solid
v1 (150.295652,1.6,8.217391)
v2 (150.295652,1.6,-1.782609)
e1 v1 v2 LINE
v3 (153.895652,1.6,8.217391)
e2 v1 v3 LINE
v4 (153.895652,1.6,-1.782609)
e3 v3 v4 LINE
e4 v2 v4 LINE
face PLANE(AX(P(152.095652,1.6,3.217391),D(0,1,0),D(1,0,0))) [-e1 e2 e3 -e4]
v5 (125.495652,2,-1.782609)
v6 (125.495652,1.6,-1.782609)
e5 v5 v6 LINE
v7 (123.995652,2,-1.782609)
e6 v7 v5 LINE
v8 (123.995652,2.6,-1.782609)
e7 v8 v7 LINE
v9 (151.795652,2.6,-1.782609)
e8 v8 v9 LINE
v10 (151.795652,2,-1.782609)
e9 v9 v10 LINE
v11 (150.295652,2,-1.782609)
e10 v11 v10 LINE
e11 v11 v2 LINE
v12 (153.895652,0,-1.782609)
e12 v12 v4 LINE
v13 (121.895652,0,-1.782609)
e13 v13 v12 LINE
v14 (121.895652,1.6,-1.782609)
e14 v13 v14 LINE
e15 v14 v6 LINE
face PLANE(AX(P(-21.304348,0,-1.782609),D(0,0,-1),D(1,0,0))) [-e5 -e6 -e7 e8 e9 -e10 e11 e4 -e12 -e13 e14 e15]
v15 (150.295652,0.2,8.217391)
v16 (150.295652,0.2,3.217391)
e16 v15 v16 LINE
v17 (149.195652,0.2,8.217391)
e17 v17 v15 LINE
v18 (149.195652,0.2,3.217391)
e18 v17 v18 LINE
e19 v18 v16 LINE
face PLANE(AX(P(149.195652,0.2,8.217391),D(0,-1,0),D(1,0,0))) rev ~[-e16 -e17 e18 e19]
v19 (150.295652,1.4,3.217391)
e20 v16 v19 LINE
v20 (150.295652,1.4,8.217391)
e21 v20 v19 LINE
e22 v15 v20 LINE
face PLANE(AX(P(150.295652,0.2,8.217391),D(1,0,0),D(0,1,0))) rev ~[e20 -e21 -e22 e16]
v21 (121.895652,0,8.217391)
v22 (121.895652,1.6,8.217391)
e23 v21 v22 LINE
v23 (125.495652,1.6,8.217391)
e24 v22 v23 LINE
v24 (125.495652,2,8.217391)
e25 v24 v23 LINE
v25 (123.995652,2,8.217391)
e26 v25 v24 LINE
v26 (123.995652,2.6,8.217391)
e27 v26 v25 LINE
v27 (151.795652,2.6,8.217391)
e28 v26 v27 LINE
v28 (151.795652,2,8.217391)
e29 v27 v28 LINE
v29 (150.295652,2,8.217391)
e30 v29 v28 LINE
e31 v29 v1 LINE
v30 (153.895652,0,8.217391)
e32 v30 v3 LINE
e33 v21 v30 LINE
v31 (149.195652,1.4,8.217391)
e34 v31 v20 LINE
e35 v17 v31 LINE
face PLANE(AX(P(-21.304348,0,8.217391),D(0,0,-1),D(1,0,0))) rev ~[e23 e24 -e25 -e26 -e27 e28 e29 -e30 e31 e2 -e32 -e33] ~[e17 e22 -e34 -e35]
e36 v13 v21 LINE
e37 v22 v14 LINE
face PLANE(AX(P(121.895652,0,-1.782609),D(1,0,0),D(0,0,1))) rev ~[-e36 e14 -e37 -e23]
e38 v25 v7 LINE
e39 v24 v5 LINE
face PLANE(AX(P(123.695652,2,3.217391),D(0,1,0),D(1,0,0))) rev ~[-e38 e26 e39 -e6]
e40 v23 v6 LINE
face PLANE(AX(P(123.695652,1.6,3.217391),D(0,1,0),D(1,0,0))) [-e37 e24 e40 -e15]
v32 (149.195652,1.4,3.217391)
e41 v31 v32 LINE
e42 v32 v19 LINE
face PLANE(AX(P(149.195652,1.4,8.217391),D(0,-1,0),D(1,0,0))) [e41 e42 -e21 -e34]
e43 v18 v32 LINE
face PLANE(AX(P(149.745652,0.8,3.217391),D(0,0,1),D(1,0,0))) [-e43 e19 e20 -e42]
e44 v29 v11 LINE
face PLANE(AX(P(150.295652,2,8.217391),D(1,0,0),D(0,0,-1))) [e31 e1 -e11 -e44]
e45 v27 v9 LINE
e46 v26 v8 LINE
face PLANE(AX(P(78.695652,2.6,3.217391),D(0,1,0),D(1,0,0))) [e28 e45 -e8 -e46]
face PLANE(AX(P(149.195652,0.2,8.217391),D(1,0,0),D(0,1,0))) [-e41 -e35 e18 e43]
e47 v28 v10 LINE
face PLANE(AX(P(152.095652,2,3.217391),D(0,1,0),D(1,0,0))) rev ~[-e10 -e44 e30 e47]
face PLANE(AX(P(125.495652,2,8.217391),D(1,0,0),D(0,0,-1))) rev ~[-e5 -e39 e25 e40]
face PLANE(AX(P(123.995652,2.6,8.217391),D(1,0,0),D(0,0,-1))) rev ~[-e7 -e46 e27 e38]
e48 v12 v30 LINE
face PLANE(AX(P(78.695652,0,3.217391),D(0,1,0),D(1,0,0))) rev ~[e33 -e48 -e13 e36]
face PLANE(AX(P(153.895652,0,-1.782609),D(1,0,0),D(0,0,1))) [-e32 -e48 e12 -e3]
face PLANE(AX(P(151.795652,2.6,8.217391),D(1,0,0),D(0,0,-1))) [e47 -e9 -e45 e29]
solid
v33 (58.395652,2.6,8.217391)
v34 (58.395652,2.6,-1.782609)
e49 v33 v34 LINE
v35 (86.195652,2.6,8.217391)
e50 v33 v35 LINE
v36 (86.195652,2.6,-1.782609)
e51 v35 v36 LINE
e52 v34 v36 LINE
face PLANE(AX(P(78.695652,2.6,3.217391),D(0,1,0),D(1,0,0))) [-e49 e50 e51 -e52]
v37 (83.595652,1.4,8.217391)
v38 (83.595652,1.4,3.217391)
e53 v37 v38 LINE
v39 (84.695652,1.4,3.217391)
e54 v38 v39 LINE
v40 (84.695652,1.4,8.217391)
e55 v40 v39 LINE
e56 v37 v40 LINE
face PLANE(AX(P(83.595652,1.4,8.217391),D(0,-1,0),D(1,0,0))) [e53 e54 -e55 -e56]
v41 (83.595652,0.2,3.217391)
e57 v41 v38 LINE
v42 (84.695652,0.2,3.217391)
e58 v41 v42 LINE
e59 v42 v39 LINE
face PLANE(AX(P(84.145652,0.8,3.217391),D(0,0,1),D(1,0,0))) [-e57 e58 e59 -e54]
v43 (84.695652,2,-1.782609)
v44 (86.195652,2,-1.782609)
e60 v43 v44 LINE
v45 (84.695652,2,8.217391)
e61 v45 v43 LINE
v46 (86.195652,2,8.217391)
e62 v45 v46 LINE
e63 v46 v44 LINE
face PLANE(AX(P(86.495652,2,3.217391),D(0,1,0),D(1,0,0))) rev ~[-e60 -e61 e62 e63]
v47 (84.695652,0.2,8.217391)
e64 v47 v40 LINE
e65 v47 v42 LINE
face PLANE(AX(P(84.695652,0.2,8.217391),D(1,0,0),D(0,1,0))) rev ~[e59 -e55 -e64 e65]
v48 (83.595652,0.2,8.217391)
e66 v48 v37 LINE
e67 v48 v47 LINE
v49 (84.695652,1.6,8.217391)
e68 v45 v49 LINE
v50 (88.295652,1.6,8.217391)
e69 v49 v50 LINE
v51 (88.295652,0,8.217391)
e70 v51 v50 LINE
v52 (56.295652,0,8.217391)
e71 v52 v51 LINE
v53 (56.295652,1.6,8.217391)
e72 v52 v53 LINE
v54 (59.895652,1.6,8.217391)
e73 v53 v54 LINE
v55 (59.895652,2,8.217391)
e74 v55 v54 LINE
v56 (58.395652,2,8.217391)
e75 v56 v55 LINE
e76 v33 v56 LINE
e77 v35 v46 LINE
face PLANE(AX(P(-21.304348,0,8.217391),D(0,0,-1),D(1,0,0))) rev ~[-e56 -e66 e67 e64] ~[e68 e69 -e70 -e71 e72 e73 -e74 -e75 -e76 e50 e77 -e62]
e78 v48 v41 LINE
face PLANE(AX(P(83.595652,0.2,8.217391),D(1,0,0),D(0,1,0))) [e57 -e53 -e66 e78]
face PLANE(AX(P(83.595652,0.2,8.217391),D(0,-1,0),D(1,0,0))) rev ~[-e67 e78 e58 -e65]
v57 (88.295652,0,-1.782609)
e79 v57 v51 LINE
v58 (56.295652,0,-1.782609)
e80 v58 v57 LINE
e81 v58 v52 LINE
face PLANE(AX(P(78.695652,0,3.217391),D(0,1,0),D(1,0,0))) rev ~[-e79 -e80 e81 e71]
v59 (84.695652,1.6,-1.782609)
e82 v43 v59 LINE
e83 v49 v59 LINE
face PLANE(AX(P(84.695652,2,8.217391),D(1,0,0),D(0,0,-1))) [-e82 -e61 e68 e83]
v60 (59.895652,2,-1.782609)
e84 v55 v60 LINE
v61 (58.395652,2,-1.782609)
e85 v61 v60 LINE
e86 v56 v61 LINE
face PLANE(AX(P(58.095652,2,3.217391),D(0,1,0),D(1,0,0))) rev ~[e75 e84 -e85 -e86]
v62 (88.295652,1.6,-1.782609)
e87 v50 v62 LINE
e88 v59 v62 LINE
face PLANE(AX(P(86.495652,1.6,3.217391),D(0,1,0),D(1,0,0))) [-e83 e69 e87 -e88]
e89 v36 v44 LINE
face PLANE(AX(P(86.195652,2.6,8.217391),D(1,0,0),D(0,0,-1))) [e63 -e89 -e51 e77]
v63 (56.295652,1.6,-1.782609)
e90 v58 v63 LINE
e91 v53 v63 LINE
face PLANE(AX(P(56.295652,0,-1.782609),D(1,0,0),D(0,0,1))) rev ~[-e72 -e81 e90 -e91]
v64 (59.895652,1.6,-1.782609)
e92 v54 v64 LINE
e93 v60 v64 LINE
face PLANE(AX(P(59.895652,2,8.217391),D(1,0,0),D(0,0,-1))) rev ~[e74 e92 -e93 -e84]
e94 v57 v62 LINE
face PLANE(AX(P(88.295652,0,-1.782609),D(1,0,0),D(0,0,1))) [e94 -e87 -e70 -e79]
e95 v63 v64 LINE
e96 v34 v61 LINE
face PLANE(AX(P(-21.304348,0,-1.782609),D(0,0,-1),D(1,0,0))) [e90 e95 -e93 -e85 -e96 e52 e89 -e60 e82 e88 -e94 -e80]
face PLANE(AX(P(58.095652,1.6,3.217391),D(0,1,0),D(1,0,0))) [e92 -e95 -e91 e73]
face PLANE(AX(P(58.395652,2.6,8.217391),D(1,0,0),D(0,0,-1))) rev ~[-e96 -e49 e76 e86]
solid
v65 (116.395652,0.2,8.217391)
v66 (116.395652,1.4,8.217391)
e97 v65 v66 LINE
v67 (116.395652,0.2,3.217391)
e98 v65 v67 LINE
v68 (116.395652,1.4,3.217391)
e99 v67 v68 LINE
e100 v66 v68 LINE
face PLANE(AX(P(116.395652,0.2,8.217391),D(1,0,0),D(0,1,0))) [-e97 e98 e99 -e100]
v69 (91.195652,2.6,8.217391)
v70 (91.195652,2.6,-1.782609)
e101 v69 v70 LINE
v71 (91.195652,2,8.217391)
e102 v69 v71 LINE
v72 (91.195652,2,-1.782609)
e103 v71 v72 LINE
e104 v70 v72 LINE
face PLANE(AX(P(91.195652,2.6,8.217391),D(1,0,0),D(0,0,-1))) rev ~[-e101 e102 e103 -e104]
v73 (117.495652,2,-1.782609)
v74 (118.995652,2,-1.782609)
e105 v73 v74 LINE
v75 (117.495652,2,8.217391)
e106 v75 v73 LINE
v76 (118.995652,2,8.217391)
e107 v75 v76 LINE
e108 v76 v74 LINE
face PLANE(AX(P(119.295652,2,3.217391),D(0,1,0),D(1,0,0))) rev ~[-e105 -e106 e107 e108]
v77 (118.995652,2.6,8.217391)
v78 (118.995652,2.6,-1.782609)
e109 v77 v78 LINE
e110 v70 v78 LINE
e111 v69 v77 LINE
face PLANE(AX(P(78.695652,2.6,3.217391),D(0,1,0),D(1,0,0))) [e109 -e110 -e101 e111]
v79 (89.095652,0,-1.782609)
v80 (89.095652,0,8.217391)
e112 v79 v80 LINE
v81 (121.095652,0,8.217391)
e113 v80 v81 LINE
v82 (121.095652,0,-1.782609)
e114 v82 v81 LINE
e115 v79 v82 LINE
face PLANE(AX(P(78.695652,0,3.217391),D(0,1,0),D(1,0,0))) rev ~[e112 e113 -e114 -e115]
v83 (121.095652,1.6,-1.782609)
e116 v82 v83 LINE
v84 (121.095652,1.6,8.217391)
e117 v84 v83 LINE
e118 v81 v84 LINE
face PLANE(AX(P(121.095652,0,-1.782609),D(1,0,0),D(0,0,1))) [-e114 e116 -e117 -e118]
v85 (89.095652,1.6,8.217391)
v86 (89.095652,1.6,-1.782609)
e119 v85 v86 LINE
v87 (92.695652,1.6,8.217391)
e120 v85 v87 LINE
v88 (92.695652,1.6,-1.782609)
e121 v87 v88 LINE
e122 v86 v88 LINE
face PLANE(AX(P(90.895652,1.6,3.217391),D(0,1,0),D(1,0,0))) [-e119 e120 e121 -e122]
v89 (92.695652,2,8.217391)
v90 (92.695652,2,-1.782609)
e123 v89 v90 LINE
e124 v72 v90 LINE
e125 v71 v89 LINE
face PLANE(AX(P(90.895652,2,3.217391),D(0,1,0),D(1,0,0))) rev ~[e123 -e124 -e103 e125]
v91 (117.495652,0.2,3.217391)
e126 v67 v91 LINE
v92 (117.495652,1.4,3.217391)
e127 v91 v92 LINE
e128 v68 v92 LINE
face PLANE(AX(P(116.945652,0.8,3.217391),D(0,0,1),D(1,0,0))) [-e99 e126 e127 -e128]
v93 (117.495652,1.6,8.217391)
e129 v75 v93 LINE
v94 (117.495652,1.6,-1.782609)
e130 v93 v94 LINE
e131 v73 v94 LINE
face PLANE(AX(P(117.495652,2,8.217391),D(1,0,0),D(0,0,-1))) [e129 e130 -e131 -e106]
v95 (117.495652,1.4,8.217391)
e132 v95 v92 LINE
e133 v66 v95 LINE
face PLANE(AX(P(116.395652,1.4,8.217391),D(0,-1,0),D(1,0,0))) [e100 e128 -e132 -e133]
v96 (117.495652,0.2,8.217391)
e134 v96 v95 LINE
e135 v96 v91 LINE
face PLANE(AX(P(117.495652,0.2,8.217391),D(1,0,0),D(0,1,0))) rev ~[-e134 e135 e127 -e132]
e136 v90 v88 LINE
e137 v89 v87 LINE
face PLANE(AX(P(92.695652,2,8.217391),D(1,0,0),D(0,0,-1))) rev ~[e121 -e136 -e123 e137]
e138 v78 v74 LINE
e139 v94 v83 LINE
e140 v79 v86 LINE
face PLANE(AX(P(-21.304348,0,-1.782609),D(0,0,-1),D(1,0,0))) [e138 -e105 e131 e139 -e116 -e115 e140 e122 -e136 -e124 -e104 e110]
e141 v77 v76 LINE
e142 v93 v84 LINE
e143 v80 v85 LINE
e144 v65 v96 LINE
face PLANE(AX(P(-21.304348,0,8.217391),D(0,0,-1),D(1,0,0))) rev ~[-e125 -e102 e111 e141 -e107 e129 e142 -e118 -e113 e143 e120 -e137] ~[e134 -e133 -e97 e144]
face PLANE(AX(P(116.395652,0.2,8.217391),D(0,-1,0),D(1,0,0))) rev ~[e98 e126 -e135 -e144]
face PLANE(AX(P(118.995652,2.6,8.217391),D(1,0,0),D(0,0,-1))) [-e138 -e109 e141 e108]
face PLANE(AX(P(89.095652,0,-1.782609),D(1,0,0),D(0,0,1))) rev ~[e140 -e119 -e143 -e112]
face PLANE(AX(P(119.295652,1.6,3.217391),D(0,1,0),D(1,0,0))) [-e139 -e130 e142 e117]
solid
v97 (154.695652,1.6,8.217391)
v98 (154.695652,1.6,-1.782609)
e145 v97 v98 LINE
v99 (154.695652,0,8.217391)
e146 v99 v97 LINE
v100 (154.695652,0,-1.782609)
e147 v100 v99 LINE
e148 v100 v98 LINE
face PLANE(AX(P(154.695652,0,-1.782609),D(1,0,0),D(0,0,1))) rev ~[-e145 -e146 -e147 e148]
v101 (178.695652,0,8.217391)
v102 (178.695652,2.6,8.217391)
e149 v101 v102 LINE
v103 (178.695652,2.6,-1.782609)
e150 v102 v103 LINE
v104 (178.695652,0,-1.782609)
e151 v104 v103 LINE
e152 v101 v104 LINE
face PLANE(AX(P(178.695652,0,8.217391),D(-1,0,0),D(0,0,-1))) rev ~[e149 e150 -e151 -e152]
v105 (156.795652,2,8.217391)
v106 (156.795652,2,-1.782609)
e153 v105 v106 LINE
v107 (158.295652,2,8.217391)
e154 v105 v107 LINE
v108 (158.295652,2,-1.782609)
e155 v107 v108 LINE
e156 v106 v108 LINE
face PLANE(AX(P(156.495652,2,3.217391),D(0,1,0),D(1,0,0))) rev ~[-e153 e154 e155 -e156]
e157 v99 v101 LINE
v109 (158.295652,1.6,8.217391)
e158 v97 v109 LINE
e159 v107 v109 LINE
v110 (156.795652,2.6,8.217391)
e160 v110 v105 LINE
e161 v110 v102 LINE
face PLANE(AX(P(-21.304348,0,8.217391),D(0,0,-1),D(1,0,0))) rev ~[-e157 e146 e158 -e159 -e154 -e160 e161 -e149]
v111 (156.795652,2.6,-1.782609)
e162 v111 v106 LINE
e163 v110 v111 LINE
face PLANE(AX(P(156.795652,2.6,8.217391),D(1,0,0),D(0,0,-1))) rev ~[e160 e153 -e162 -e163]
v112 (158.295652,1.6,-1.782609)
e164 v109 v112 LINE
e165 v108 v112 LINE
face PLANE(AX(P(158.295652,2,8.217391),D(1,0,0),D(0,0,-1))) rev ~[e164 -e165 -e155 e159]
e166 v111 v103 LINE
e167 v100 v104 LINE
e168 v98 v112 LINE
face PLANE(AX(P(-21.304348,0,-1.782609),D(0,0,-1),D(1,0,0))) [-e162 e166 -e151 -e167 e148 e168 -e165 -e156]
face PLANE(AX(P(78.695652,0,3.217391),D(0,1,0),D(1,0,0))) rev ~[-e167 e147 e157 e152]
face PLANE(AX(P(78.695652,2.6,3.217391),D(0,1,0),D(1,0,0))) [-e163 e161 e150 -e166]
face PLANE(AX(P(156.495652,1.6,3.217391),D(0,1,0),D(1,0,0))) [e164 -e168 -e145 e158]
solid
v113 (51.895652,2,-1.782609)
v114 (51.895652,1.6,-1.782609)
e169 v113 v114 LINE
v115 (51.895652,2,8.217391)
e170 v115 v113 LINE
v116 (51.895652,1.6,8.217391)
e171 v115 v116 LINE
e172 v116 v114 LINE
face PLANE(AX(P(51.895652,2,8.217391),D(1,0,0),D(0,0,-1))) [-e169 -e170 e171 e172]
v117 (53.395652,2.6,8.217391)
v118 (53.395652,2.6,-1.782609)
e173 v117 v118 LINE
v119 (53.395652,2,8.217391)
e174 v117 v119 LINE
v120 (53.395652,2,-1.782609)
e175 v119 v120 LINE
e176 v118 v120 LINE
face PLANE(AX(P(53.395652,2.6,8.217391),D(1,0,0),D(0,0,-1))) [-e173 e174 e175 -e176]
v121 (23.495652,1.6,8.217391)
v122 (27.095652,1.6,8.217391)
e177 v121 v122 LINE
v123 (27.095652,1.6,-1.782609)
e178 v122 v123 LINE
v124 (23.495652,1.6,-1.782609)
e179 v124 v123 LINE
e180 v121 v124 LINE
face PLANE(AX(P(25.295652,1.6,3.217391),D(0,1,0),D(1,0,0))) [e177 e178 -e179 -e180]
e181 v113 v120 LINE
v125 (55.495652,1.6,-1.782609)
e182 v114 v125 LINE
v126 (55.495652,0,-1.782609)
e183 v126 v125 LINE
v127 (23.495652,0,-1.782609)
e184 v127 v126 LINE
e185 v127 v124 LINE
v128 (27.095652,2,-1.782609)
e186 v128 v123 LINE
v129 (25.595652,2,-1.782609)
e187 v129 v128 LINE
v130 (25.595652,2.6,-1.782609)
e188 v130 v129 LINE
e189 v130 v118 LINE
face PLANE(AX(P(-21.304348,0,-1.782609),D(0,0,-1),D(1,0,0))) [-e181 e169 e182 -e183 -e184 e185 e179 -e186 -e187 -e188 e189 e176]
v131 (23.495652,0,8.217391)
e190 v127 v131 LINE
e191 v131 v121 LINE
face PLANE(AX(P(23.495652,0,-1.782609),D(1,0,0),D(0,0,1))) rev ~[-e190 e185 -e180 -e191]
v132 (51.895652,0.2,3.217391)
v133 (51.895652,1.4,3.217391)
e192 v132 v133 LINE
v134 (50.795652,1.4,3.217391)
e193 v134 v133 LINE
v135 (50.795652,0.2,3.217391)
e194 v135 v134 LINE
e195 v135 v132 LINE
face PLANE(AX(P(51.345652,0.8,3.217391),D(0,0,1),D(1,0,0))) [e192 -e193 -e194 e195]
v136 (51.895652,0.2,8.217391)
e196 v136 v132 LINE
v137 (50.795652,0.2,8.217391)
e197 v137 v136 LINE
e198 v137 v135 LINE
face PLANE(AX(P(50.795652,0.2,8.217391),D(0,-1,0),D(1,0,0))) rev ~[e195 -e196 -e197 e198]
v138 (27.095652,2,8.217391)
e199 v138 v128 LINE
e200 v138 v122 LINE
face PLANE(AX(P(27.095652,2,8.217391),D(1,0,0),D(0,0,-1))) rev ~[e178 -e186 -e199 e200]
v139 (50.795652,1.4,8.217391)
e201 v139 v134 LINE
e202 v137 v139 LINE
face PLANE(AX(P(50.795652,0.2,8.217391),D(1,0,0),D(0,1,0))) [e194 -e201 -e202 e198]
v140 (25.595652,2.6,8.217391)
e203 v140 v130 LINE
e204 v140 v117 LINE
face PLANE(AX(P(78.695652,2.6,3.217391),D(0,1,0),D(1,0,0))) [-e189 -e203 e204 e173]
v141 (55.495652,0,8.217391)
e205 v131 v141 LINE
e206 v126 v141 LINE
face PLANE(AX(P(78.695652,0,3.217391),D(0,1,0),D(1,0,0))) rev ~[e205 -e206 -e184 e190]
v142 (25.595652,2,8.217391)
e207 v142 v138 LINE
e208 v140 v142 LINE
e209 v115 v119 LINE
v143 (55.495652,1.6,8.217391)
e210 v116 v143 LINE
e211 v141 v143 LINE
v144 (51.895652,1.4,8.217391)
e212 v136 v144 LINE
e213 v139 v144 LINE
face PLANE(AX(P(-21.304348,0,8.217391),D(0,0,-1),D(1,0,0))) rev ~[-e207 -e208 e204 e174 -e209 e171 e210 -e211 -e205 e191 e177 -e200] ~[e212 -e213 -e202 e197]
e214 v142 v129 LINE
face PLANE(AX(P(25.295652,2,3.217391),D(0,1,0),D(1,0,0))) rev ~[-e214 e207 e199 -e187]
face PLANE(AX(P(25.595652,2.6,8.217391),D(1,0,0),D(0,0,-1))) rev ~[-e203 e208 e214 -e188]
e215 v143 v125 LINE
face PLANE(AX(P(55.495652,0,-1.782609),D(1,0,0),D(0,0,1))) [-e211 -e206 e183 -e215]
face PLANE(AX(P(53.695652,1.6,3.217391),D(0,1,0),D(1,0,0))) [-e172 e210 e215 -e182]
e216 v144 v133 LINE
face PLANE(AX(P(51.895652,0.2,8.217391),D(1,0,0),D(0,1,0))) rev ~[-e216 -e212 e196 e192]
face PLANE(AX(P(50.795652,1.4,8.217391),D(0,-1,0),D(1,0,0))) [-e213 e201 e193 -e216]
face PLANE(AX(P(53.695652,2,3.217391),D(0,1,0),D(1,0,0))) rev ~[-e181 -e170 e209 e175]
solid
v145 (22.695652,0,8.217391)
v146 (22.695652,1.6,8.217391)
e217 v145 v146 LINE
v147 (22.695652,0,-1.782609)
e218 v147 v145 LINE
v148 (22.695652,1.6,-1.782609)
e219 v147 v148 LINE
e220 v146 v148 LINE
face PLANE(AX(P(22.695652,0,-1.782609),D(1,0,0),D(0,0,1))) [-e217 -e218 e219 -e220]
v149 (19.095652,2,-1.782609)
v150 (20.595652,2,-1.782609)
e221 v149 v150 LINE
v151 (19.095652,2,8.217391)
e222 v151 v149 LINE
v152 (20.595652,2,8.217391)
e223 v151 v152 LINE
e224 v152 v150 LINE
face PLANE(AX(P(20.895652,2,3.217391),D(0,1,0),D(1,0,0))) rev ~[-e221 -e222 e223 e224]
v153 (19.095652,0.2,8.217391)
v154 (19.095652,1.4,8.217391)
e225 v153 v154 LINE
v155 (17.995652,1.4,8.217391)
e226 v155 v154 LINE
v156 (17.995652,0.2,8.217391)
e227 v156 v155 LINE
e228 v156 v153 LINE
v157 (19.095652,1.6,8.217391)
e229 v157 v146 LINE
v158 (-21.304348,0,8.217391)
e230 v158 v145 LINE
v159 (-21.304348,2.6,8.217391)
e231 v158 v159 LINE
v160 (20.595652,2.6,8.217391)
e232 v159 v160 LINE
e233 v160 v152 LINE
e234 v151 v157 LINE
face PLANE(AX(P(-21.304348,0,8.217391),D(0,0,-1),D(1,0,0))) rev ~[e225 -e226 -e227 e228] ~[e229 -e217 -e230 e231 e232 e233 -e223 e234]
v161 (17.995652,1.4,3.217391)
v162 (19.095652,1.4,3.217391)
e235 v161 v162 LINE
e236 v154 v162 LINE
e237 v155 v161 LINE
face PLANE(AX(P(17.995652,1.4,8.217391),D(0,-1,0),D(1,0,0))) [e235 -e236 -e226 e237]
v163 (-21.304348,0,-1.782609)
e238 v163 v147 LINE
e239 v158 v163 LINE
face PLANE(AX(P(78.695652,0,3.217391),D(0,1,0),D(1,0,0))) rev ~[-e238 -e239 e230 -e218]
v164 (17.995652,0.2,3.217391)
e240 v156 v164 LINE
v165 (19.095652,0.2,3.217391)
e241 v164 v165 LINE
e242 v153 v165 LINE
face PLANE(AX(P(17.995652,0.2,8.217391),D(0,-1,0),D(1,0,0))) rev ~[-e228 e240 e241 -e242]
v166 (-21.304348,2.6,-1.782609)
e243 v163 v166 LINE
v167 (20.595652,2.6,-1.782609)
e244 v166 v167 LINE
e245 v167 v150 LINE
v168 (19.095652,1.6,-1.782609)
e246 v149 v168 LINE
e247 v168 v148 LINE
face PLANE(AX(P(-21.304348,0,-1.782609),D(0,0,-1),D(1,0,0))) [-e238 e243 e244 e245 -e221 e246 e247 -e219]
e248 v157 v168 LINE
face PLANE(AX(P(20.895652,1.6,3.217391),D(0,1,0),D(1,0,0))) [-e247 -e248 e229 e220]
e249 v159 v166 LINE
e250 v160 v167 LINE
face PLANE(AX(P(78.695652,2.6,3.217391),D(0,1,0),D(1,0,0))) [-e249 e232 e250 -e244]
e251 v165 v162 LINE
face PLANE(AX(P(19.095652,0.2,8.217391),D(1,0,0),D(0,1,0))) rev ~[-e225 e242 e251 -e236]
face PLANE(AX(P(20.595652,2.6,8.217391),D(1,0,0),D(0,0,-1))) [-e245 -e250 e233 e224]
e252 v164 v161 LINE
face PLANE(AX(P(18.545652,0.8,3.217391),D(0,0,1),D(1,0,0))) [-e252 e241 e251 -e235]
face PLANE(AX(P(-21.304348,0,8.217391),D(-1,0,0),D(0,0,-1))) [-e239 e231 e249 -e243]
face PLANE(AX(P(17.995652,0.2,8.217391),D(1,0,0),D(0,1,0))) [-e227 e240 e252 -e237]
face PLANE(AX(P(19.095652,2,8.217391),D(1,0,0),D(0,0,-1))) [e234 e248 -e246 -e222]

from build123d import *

# Parameters (mm, degrees)
SKETCH1_W             = 200
SKETCH1_H             = 10
BOSS_EXTRUDE1_DEPTH   = 2.6
SKETCH3_W             = 0.8
SKETCH3_H             = 10
CUT_EXTRUDE1_DEPTH    = 2
SKETCH4_W             = 5
SKETCH4_H             = 10
CUT_EXTRUDE2_DEPTH    = 0.6
SKETCH5_W             = 5
SKETCH5_H             = 10
BOSS_EXTRUDE2_DEPTH   = 0.6
BOSS_EXTRUDE2_2_DEPTH = 0.6
BOSS_EXTRUDE2_3_DEPTH = 0.6
BOSS_EXTRUDE2_4_DEPTH = 0.6
BOSS_EXTRUDE2_5_DEPTH = 0.6
SKETCH6_W             = 3.6
SKETCH6_H             = 10
CUT_EXTRUDE3_DEPTH    = 0.4
SKETCH11_W            = 1.1
SKETCH11_H            = 1.2
CUT_EXTRUDE4_DEPTH    = 5
SKETCH12_W            = 5
SKETCH12_H            = 10
CUT_EXTRUDE6_DEPTH    = 0.6


with BuildPart() as part:
    # Sketch1 → Boss-Extrude1 (new body)
    with BuildSketch(Plane(origin=(0, 0, 0), x_dir=(1, 0, 0), z_dir=(0, 1, 0))):
        with Locations((78.695652174, -3.217391304)):
            Rectangle(SKETCH1_W, SKETCH1_H)
    extrude(amount=BOSS_EXTRUDE1_DEPTH)

    # Sketch3 → Cut-Extrude1 (cut)
    with BuildSketch(Plane.XZ):
        with Locations((23.095652174, 3.217391304)):
            Rectangle(SKETCH3_W, SKETCH3_H)
        with Locations((55.895652174, 3.217391304)):
            Rectangle(SKETCH3_W, SKETCH3_H)
        with Locations((88.695652174, 3.217391304)):
            Rectangle(SKETCH3_W, SKETCH3_H)
        with Locations((121.495652174, 3.217391304)):
            Rectangle(SKETCH3_W, SKETCH3_H)
        with Locations((154.295652174, 3.217391304)):
            Rectangle(SKETCH3_W, SKETCH3_H)
    extrude(amount=-CUT_EXTRUDE1_DEPTH, mode=Mode.SUBTRACT)

    # Sketch4 → Cut-Extrude2 (cut)
    with BuildSketch(Plane(origin=(0, 2.6, 0), x_dir=(1, 0, 0), z_dir=(0, 1, 0))):
        with Locations((154.295652174, -3.217391304)):
            Rectangle(SKETCH4_W, SKETCH4_H)
        with Locations((121.495652174, -3.217391304)):
            Rectangle(SKETCH4_W, SKETCH4_H)
        with Locations((88.695652174, -3.217391304)):
            Rectangle(SKETCH4_W, SKETCH4_H)
        with Locations((55.895652174, -3.217391304)):
            Rectangle(SKETCH4_W, SKETCH4_H)
        with Locations((23.095652174, -3.217391304)):
            Rectangle(SKETCH4_W, SKETCH4_H)
    extrude(amount=-CUT_EXTRUDE2_DEPTH, mode=Mode.SUBTRACT)


with BuildPart() as cut_extrude2_piece_1:
    # of the separate pieces the step leaves, piece 1, a body of its own (cut_extrude2_pieces)
    add(part.part.solids().sort_by_distance((-21.304347826, 0, 8.217391304))[0])


with BuildPart() as cut_extrude2_piece_2:
    # of the separate pieces the step leaves, piece 2, a body of its own (cut_extrude2_pieces)
    add(part.part.solids().sort_by_distance((91.195652174, 2.6, 8.217391304))[0])


with BuildPart() as cut_extrude2_piece_3:
    # of the separate pieces the step leaves, piece 3, a body of its own (cut_extrude2_pieces)
    add(part.part.solids().sort_by_distance((23.495652174, 0, 8.217391304))[0])


with BuildPart() as cut_extrude2_piece_4:
    # of the separate pieces the step leaves, piece 4, a body of its own (cut_extrude2_pieces)
    add(part.part.solids().sort_by_distance((58.395652174, 2.6, 8.217391304))[0])


with BuildPart() as cut_extrude2_piece_5:
    # of the separate pieces the step leaves, piece 5, a body of its own (cut_extrude2_pieces)
    add(part.part.solids().sort_by_distance((123.995652174, 2.6, 8.217391304))[0])


with BuildPart() as cut_extrude2_piece_6:
    # of the separate pieces the step leaves, piece 6, a body of its own (cut_extrude2_pieces)
    add(part.part.solids().sort_by_distance((156.795652174, 2.6, 8.217391304))[0])


with BuildPart() as body_7:
    # Sketch5 → Boss-Extrude2 (new body)
    with BuildSketch(Plane(origin=(0, 2, 0), x_dir=(1, 0, 0), z_dir=(0, 1, 0))):
        with Locations((88.695652174, -3.217391304)):
            Rectangle(SKETCH5_W, SKETCH5_H)
    extrude(amount=BOSS_EXTRUDE2_DEPTH)


with BuildPart() as body_8:
    # Sketch5 → Boss-Extrude2 2 (new body)
    with BuildSketch(Plane(origin=(0, 2, 0), x_dir=(1, 0, 0), z_dir=(0, 1, 0))):
        with Locations((121.495652174, -3.217391304)):
            Rectangle(SKETCH5_W, SKETCH5_H)
    extrude(amount=BOSS_EXTRUDE2_2_DEPTH)


with BuildPart() as body_9:
    # Sketch5 → Boss-Extrude2 3 (new body)
    with BuildSketch(Plane(origin=(0, 2, 0), x_dir=(1, 0, 0), z_dir=(0, 1, 0))):
        with Locations((154.295652174, -3.217391304)):
            Rectangle(SKETCH5_W, SKETCH5_H)
    extrude(amount=BOSS_EXTRUDE2_3_DEPTH)


with BuildPart() as body_10:
    # Sketch5 → Boss-Extrude2 4 (new body)
    with BuildSketch(Plane(origin=(0, 2, 0), x_dir=(1, 0, 0), z_dir=(0, 1, 0))):
        with Locations((55.895652174, -3.217391304)):
            Rectangle(SKETCH5_W, SKETCH5_H)
    extrude(amount=BOSS_EXTRUDE2_4_DEPTH)


with BuildPart() as body_11:
    # Sketch5 → Boss-Extrude2 5 (new body)
    with BuildSketch(Plane(origin=(0, 2, 0), x_dir=(1, 0, 0), z_dir=(0, 1, 0))):
        with Locations((23.095652174, -3.217391304)):
            Rectangle(SKETCH5_W, SKETCH5_H)
    extrude(amount=BOSS_EXTRUDE2_5_DEPTH)


with BuildPart() as cut_extrude3_tool:
    # Sketch6 → Cut-Extrude3 (new body)
    with BuildSketch(Plane(origin=(0, 2, 0), x_dir=(1, 0, 0), z_dir=(0, 1, 0))):
        with Locations((156.495652174, -3.217391304)):
            Rectangle(SKETCH6_W, SKETCH6_H)
        with Locations((25.295652174, -3.217391304)):
            Rectangle(SKETCH6_W, SKETCH6_H)
        with Locations((152.095652174, -3.217391304)):
            Rectangle(SKETCH6_W, SKETCH6_H)
        with Locations((123.695652174, -3.217391304)):
            Rectangle(SKETCH6_W, SKETCH6_H)
        with Locations((119.295652174, -3.217391304)):
            Rectangle(SKETCH6_W, SKETCH6_H)
        with Locations((90.895652174, -3.217391304)):
            Rectangle(SKETCH6_W, SKETCH6_H)
        with Locations((86.495652174, -3.217391304)):
            Rectangle(SKETCH6_W, SKETCH6_H)
        with Locations((58.095652174, -3.217391304)):
            Rectangle(SKETCH6_W, SKETCH6_H)
        with Locations((53.695652174, -3.217391304)):
            Rectangle(SKETCH6_W, SKETCH6_H)
        with Locations((20.895652174, -3.217391304)):
            Rectangle(SKETCH6_W, SKETCH6_H)
    extrude(amount=-CUT_EXTRUDE3_DEPTH)


with BuildPart() as cut_extrude2_piece_1_1:
    add(cut_extrude2_piece_1.part)

    # Cut-Extrude3: cut by cut_extrude3_tool
    add(cut_extrude3_tool.part, mode=Mode.SUBTRACT)


with BuildPart() as cut_extrude2_piece_2_1:
    add(cut_extrude2_piece_2.part)

    # Cut-Extrude3: cut by cut_extrude3_tool
    add(cut_extrude3_tool.part, mode=Mode.SUBTRACT)


with BuildPart() as cut_extrude2_piece_3_1:
    add(cut_extrude2_piece_3.part)

    # Cut-Extrude3: cut by cut_extrude3_tool
    add(cut_extrude3_tool.part, mode=Mode.SUBTRACT)


with BuildPart() as cut_extrude2_piece_4_1:
    add(cut_extrude2_piece_4.part)

    # Cut-Extrude3: cut by cut_extrude3_tool
    add(cut_extrude3_tool.part, mode=Mode.SUBTRACT)


with BuildPart() as cut_extrude2_piece_5_1:
    add(cut_extrude2_piece_5.part)

    # Cut-Extrude3: cut by cut_extrude3_tool
    add(cut_extrude3_tool.part, mode=Mode.SUBTRACT)


with BuildPart() as cut_extrude2_piece_6_1:
    add(cut_extrude2_piece_6.part)

    # Cut-Extrude3: cut by cut_extrude3_tool
    add(cut_extrude3_tool.part, mode=Mode.SUBTRACT)


with BuildPart() as cut_extrude4_tool:
    # Sketch11 → Cut-Extrude4 (new body)
    with BuildSketch(Plane.XY.offset(8.217391304)):
        with Locations((18.545652174, 0.8)):
            Rectangle(SKETCH11_W, SKETCH11_H)
        with Locations((51.345652174, 0.8)):
            Rectangle(SKETCH11_W, SKETCH11_H)
        with Locations((84.145652174, 0.8)):
            Rectangle(SKETCH11_W, SKETCH11_H)
        with Locations((116.945652174, 0.8)):
            Rectangle(SKETCH11_W, SKETCH11_H)
        with Locations((149.745652174, 0.8)):
            Rectangle(SKETCH11_W, SKETCH11_H)
    extrude(amount=-CUT_EXTRUDE4_DEPTH)


with BuildPart() as cut_extrude2_piece_1_2:
    add(cut_extrude2_piece_1_1.part)

    # Cut-Extrude4: cut by cut_extrude4_tool
    add(cut_extrude4_tool.part, mode=Mode.SUBTRACT)


with BuildPart() as cut_extrude2_piece_2_2:
    add(cut_extrude2_piece_2_1.part)

    # Cut-Extrude4: cut by cut_extrude4_tool
    add(cut_extrude4_tool.part, mode=Mode.SUBTRACT)


with BuildPart() as cut_extrude2_piece_3_2:
    add(cut_extrude2_piece_3_1.part)

    # Cut-Extrude4: cut by cut_extrude4_tool
    add(cut_extrude4_tool.part, mode=Mode.SUBTRACT)


with BuildPart() as cut_extrude2_piece_4_2:
    add(cut_extrude2_piece_4_1.part)

    # Cut-Extrude4: cut by cut_extrude4_tool
    add(cut_extrude4_tool.part, mode=Mode.SUBTRACT)


with BuildPart() as cut_extrude2_piece_5_2:
    add(cut_extrude2_piece_5_1.part)

    # Cut-Extrude4: cut by cut_extrude4_tool
    add(cut_extrude4_tool.part, mode=Mode.SUBTRACT)


with BuildPart() as cut_extrude6_tool:
    # Sketch12 → Cut-Extrude6 (new body)
    with BuildSketch(Plane(origin=(0, 2.6, 0), x_dir=(1, 0, 0), z_dir=(0, 1, 0))):
        with Locations((23.095652174, -3.217391304)):
            Rectangle(SKETCH12_W, SKETCH12_H)
        with Locations((55.895652174, -3.217391304)):
            Rectangle(SKETCH12_W, SKETCH12_H)
        with Locations((88.695652174, -3.217391304)):
            Rectangle(SKETCH12_W, SKETCH12_H)
        with Locations((121.495652174, -3.217391304)):
            Rectangle(SKETCH12_W, SKETCH12_H)
        with Locations((154.295652174, -3.217391304)):
            Rectangle(SKETCH12_W, SKETCH12_H)
    extrude(amount=-CUT_EXTRUDE6_DEPTH)


with BuildPart() as body_7_1:
    add(body_7.part)

    # Cut-Extrude6: cut by cut_extrude6_tool
    add(cut_extrude6_tool.part, mode=Mode.SUBTRACT)


with BuildPart() as body_8_1:
    add(body_8.part)

    # Cut-Extrude6: cut by cut_extrude6_tool
    add(cut_extrude6_tool.part, mode=Mode.SUBTRACT)


with BuildPart() as body_9_1:
    add(body_9.part)

    # Cut-Extrude6: cut by cut_extrude6_tool
    add(cut_extrude6_tool.part, mode=Mode.SUBTRACT)


with BuildPart() as body_10_1:
    add(body_10.part)

    # Cut-Extrude6: cut by cut_extrude6_tool
    add(cut_extrude6_tool.part, mode=Mode.SUBTRACT)


with BuildPart() as body_11_1:
    add(body_11.part)

    # Cut-Extrude6: cut by cut_extrude6_tool
    add(cut_extrude6_tool.part, mode=Mode.SUBTRACT)


solid = Compound([cut_extrude2_piece_6_1.part, cut_extrude2_piece_1_2.part, cut_extrude2_piece_2_2.part, cut_extrude2_piece_3_2.part, cut_extrude2_piece_4_2.part, cut_extrude2_piece_5_2.part])
